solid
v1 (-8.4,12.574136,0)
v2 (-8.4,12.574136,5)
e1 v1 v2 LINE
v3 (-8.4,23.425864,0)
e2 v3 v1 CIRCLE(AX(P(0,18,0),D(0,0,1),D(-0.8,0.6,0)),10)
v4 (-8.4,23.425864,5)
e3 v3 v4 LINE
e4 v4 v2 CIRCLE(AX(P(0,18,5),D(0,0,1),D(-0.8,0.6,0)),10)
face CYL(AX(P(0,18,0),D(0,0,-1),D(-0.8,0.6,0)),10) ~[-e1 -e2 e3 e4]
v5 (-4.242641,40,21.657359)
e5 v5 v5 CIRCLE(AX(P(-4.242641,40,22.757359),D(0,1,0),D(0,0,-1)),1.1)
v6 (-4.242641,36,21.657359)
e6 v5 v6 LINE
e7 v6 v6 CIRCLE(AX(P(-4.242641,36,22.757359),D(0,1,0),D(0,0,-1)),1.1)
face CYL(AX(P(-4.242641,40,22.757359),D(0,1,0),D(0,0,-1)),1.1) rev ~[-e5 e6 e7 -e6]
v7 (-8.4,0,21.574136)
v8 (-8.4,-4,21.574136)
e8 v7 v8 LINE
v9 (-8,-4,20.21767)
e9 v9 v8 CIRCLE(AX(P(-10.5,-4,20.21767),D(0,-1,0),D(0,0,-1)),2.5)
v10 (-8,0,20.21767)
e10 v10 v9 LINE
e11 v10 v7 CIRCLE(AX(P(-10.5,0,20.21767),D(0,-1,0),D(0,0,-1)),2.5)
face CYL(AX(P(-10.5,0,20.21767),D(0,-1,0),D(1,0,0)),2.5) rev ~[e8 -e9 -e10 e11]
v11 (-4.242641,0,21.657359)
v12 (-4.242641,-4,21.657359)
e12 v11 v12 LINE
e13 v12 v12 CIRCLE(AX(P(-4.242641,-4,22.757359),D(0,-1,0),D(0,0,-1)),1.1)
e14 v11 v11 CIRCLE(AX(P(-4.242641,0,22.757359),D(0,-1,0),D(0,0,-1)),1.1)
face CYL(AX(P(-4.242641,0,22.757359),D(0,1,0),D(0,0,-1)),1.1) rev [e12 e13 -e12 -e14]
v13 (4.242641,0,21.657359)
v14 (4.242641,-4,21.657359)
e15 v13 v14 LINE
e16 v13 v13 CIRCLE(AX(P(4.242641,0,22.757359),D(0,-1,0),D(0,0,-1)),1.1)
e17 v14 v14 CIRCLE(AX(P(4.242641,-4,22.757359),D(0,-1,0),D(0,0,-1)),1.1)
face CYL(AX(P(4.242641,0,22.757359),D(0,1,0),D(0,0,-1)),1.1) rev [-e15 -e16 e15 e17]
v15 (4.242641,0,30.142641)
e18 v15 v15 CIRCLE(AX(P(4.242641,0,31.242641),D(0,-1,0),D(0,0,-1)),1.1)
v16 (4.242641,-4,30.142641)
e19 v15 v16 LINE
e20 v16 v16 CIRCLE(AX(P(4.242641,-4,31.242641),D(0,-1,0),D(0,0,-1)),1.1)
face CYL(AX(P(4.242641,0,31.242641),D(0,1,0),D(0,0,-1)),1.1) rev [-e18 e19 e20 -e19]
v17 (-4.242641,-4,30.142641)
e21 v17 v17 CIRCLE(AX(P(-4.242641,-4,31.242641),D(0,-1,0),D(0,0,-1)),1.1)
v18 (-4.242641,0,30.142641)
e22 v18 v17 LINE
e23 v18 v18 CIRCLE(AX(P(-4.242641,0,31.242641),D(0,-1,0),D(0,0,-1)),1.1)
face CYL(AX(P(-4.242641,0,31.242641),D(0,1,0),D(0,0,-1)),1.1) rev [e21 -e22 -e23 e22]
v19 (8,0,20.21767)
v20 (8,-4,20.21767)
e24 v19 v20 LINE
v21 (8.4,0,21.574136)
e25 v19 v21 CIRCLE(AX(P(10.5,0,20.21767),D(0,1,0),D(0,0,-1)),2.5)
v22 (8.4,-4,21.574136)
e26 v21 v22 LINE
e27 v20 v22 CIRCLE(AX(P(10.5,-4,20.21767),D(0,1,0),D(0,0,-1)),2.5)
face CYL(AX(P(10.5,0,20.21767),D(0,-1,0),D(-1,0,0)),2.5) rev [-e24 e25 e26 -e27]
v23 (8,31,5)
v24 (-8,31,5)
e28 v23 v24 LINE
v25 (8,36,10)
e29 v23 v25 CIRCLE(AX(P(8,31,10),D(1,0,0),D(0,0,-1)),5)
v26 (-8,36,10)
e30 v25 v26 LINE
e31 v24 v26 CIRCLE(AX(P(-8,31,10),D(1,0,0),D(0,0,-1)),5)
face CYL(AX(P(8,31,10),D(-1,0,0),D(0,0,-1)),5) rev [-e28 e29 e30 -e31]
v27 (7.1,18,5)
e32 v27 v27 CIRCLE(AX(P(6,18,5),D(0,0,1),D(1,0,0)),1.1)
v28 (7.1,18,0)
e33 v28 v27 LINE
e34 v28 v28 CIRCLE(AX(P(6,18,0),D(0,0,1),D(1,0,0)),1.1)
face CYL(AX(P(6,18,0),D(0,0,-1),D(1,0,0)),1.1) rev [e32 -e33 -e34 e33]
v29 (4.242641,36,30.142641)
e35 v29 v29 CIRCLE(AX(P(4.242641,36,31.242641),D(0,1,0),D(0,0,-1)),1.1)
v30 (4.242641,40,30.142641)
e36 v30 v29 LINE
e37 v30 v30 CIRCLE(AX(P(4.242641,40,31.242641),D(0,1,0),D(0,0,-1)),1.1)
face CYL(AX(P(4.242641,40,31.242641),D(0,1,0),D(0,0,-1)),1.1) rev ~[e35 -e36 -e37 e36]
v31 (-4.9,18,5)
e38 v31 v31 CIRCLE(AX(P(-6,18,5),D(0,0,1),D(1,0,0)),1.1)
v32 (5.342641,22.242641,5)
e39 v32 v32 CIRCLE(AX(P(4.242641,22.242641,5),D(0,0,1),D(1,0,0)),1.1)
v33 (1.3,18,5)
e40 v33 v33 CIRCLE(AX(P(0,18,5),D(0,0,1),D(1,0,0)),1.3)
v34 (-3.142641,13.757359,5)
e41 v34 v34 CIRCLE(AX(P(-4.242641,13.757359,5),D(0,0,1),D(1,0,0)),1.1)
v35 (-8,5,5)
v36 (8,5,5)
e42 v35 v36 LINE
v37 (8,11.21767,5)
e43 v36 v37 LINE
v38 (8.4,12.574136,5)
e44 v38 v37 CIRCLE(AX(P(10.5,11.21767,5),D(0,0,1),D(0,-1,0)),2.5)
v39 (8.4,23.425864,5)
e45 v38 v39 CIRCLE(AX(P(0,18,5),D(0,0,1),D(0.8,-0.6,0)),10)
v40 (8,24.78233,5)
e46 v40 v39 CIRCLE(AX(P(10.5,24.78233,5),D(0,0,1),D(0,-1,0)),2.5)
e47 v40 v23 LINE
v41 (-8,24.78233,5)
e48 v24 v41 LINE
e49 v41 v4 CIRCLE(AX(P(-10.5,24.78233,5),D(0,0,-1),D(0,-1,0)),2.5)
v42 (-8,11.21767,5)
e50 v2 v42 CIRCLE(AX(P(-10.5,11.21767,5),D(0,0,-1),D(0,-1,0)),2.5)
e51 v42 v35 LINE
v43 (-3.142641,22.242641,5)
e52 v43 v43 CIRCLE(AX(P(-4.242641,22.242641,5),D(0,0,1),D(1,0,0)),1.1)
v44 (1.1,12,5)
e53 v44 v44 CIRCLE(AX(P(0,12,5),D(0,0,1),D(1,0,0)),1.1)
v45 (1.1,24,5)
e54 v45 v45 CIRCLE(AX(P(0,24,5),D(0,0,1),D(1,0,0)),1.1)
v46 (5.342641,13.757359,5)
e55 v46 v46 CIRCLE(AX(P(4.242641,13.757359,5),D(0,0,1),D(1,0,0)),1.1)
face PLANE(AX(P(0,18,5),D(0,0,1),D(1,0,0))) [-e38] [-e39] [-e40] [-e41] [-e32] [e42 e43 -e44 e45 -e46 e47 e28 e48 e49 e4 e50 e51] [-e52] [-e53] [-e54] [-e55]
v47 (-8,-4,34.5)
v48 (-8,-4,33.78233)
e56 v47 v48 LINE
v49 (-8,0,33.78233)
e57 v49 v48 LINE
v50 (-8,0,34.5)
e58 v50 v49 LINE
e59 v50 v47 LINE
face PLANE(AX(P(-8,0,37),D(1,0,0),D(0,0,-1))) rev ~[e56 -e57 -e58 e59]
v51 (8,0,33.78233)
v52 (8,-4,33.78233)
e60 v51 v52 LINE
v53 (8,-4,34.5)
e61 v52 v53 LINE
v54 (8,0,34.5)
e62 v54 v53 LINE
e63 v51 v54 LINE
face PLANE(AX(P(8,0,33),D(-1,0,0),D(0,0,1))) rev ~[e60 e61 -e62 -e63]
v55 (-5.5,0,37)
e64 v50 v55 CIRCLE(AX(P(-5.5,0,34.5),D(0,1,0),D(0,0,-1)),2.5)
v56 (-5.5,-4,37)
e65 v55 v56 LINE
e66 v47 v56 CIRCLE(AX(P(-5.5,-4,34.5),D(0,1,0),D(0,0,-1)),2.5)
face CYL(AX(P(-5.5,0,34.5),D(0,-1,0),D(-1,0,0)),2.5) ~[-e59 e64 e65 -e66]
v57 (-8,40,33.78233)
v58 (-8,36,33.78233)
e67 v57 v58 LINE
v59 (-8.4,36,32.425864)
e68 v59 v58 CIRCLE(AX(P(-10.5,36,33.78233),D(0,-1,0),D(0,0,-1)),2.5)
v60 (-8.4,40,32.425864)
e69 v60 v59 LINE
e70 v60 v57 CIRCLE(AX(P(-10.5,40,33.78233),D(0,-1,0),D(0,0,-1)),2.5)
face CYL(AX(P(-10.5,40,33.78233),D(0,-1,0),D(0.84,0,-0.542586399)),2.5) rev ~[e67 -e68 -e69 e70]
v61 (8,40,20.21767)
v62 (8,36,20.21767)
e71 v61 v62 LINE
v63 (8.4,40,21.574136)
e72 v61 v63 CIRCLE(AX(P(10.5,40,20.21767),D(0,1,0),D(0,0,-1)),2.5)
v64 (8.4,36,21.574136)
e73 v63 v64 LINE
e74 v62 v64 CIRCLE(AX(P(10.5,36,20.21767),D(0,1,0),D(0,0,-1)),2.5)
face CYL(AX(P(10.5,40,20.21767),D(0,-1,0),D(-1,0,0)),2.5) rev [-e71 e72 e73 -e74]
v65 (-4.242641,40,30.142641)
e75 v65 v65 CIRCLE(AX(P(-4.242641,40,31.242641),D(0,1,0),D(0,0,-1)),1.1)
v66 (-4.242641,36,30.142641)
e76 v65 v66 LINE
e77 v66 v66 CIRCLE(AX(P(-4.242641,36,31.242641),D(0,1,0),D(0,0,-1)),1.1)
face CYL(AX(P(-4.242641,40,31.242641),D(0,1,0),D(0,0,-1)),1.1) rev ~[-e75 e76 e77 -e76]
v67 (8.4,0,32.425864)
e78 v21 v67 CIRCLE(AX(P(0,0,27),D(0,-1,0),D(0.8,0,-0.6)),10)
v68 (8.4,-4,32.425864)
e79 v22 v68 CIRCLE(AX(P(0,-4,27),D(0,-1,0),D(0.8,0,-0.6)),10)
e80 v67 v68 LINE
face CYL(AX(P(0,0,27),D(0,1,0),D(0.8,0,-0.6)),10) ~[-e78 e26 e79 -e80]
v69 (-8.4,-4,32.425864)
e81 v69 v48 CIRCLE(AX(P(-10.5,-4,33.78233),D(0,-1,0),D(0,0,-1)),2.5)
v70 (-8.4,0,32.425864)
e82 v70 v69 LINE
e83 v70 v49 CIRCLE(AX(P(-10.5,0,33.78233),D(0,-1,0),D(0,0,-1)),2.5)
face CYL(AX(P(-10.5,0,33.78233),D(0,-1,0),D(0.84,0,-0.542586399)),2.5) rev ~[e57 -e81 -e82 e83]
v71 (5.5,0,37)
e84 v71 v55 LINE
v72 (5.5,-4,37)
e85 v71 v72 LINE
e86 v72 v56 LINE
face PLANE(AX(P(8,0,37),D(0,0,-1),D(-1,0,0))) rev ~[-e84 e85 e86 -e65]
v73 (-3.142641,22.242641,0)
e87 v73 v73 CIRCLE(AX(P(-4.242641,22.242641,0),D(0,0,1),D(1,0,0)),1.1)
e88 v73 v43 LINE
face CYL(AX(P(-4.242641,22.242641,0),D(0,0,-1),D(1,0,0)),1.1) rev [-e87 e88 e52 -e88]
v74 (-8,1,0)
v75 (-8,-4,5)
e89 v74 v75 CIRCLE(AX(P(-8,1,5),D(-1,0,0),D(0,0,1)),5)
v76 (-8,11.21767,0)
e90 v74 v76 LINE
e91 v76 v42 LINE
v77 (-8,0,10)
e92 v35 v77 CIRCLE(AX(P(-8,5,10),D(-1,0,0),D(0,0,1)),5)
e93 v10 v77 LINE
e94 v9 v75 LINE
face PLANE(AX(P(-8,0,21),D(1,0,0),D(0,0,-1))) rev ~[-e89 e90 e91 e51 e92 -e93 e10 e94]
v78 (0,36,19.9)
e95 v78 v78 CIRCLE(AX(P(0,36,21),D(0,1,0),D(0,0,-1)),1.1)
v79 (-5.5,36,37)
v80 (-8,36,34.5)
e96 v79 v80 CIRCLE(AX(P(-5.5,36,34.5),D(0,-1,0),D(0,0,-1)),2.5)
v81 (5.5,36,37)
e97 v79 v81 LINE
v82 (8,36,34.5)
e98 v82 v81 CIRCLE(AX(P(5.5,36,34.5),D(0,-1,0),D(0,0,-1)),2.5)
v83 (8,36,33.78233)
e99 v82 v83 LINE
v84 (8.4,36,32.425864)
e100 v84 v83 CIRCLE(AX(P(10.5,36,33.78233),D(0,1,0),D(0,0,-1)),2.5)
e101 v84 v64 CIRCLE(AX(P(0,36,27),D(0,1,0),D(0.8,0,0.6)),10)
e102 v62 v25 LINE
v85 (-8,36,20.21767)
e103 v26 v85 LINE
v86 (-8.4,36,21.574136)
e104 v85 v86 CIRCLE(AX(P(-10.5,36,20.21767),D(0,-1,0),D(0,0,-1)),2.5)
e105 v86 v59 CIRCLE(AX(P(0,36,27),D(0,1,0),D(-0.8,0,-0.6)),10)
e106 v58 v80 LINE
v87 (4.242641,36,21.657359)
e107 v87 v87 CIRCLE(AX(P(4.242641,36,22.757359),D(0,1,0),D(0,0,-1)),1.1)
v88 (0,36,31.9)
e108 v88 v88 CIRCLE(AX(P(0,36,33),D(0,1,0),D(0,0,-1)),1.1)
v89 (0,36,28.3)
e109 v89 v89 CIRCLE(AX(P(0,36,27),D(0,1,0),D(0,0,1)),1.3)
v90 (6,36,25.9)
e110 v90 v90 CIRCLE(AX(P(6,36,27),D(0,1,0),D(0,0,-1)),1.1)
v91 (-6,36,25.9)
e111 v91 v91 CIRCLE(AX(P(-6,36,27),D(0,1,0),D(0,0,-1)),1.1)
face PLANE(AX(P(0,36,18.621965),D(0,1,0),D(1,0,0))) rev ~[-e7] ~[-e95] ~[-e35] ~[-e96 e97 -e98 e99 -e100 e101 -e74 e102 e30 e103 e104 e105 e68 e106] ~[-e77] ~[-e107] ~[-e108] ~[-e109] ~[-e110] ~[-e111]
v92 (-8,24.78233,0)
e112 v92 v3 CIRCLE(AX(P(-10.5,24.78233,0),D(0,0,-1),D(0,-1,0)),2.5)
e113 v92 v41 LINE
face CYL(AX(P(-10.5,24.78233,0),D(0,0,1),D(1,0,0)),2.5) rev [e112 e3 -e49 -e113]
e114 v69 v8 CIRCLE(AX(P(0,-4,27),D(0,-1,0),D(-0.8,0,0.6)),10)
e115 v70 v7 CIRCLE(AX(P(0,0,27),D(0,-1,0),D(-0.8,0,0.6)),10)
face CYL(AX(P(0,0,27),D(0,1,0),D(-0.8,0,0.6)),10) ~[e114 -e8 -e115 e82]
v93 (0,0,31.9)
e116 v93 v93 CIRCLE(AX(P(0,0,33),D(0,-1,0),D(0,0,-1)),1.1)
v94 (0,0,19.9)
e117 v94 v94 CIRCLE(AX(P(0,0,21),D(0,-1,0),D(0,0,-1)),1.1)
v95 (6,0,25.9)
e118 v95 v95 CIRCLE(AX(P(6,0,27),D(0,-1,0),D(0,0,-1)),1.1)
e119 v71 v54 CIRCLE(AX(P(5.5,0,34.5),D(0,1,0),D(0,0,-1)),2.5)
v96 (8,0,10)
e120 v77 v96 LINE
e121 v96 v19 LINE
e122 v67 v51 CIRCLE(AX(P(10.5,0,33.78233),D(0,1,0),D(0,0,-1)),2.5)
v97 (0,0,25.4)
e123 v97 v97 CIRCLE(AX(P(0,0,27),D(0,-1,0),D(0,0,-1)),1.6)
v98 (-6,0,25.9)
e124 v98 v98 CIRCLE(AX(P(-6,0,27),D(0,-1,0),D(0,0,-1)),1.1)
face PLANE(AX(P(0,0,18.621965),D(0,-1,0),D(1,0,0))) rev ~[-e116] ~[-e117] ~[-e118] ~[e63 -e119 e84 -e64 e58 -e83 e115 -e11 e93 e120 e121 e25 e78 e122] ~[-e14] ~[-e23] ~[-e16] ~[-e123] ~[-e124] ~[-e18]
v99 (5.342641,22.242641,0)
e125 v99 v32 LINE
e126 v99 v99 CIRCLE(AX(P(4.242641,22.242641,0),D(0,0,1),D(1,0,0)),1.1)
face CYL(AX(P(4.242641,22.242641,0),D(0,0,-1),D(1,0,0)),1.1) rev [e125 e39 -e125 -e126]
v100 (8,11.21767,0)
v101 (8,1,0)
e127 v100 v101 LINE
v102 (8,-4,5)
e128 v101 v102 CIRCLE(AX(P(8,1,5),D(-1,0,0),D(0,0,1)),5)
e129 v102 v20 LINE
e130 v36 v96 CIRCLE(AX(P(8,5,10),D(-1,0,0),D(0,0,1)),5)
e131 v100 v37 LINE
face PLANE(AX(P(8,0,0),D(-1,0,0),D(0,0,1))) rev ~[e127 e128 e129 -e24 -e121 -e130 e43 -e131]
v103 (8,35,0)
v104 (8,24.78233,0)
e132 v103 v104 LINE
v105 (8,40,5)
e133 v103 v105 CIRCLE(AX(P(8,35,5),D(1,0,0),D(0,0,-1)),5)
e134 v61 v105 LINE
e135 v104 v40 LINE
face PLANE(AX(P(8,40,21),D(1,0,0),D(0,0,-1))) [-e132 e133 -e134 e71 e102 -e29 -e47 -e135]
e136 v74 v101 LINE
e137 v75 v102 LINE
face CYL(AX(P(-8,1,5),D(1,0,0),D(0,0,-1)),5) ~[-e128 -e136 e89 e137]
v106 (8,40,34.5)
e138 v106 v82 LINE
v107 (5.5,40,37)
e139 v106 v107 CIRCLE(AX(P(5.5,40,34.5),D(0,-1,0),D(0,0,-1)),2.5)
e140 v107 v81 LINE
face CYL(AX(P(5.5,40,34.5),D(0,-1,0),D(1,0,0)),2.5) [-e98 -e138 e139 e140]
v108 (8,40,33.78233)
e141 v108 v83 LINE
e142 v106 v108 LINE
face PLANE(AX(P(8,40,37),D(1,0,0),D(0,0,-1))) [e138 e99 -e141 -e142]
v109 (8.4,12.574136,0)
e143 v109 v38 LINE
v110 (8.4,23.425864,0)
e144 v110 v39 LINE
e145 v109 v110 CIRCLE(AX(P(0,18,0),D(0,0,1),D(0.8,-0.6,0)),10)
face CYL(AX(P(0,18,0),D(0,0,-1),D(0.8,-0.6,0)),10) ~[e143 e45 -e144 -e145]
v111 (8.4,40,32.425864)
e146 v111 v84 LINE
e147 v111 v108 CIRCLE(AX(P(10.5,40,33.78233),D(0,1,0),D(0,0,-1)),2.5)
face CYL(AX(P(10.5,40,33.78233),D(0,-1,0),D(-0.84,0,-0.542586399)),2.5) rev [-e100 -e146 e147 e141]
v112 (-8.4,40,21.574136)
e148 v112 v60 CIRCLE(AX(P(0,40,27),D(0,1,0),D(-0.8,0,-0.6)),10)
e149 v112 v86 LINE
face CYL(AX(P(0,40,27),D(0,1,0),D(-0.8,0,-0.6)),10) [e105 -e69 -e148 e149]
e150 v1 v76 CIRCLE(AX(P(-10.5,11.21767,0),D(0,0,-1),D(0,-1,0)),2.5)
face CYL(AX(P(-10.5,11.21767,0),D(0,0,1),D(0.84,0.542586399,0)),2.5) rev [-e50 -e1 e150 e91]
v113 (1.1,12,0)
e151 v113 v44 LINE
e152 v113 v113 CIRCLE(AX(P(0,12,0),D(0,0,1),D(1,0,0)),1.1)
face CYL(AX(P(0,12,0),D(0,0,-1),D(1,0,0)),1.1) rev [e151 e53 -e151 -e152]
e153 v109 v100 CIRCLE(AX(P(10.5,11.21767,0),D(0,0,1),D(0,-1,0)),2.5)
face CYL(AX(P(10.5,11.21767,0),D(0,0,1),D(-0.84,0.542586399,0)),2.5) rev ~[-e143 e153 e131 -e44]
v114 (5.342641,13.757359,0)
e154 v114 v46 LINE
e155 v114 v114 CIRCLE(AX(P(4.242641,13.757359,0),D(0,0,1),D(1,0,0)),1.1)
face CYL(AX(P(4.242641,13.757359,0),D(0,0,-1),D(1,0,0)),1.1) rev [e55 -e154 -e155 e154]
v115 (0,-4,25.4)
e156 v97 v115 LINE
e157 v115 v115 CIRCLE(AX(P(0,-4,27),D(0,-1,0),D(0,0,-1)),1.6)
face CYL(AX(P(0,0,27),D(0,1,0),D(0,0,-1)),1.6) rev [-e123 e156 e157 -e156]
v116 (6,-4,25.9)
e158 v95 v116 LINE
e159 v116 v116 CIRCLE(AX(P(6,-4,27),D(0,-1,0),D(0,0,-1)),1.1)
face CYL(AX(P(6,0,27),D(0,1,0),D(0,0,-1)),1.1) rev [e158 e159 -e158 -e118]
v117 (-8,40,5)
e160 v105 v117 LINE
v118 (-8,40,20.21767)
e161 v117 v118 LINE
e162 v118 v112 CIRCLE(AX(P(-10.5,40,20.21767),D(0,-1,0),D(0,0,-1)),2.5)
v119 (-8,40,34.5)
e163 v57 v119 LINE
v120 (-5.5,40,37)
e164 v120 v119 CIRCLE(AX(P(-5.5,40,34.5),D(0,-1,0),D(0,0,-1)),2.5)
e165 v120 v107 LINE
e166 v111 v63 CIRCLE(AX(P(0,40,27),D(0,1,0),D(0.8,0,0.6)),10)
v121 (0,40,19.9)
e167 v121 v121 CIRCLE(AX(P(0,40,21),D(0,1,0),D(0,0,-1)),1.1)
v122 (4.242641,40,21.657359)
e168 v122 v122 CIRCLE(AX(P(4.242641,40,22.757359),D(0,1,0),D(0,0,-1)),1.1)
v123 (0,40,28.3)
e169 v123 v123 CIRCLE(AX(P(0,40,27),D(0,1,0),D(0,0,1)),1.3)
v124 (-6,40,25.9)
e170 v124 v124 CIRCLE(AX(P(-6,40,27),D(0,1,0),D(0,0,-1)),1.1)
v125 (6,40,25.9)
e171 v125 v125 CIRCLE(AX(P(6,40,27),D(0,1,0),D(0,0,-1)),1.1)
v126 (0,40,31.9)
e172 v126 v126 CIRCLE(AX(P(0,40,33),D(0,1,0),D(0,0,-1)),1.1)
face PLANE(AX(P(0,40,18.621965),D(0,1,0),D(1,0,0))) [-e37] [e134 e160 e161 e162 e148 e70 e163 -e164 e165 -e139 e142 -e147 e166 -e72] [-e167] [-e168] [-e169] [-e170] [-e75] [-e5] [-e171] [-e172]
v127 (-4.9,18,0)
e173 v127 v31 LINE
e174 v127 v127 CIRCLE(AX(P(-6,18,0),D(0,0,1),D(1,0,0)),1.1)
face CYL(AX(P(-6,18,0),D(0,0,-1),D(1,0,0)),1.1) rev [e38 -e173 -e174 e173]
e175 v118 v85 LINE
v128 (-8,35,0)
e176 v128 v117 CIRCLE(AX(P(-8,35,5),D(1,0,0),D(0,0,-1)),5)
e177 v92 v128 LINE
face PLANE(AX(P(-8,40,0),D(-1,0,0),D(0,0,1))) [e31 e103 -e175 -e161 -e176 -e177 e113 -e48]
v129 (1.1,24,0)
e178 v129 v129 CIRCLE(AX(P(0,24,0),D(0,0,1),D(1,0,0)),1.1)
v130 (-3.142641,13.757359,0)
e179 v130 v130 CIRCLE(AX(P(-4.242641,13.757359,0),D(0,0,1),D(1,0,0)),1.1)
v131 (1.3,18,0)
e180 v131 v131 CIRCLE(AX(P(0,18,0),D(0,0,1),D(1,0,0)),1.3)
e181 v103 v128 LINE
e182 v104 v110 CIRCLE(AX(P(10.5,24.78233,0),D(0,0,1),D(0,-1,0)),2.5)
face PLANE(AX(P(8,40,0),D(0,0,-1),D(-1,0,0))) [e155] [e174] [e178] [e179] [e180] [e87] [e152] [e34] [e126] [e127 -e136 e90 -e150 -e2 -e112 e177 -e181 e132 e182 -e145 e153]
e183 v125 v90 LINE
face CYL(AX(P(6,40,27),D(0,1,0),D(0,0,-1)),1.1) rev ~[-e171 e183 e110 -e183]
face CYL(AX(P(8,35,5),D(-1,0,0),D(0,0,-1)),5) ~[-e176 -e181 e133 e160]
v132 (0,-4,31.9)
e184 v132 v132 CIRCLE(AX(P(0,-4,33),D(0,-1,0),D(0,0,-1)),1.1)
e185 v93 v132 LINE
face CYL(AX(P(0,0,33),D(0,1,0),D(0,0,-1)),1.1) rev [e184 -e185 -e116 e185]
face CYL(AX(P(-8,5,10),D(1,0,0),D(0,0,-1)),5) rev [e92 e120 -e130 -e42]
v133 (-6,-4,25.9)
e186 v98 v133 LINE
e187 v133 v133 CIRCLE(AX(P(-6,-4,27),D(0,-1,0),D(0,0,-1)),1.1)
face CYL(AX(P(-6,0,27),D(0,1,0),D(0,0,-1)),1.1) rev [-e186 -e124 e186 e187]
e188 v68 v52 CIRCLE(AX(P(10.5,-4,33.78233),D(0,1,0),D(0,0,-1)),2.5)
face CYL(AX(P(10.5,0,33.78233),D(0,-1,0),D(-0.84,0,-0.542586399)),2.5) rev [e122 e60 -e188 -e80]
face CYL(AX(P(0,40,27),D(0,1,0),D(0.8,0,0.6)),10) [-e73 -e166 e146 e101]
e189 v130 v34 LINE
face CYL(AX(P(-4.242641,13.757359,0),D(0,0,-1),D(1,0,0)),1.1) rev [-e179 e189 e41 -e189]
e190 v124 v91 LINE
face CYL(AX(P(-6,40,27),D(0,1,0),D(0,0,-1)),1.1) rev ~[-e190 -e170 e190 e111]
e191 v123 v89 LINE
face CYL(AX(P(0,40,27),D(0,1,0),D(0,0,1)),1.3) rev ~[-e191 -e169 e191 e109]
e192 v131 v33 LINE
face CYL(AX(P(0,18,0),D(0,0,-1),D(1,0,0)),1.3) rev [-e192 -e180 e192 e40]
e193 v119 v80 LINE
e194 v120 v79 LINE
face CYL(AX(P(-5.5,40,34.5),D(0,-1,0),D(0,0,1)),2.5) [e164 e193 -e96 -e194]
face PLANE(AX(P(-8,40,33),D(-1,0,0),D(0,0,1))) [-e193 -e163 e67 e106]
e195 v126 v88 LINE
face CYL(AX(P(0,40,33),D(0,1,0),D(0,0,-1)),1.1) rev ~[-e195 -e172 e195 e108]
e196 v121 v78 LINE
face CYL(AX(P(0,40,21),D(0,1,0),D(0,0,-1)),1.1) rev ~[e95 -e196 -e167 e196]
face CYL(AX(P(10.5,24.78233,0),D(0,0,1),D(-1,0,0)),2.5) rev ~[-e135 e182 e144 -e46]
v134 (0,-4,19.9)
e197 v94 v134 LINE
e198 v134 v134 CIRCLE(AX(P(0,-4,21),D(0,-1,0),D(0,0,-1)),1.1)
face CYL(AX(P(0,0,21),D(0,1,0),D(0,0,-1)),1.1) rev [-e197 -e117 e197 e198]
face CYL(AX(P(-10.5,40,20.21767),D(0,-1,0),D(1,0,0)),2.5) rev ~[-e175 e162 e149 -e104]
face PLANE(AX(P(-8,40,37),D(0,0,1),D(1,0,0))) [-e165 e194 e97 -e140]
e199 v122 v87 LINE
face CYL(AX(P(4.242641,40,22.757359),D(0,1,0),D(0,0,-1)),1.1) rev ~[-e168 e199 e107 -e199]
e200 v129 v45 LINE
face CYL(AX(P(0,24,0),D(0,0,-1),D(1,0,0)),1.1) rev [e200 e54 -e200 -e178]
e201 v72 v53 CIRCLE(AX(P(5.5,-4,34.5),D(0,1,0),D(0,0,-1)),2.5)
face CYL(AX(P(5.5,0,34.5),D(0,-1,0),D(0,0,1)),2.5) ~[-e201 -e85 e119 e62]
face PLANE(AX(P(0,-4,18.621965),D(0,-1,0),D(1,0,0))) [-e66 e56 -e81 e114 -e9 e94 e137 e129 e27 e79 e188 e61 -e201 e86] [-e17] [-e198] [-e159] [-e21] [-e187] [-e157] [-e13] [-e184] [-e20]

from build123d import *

# Parameters (mm, degrees)
SKETCH_1_R      = 1.3
SKETCH_1_R_2    = 1.1
EXTRUDE_1_DEPTH = 5
SKETCH_2_R      = 1.6
SKETCH_2_R_2    = 1.1
EXTRUDE_2_DEPTH = 4
EXTRUDE_START   = 4
SKETCH_3_R      = 1.1
SKETCH_3_R_2    = 1.3
EXTRUDE_3_DEPTH = 4
FILLET_1_R      = 5
FILLET_2_R      = 2.5


with BuildPart() as part:
    # ｽｹｯﾁ1 → ﾎﾞｽ - 押し出し1 (new body)
    with BuildSketch(Plane.XY):
        with BuildLine():
            Line((-8, 0), (8, 0))
            Line((8, 0), (8, 12))
            ThreePointArc((8, 12), (10, 18), (8, 24))
            Line((8, 24), (8, 36))
            Line((8, 36), (-8, 36))
            Line((-8, 36), (-8, 24))
            ThreePointArc((-8, 24), (-10, 18), (-8, 12))
            Line((-8, 12), (-8, 0))
        make_face()
        with Locations((0, 18)):
            Circle(SKETCH_1_R, mode=Mode.SUBTRACT)
        with Locations((0, 24)):
            Circle(SKETCH_1_R_2, mode=Mode.SUBTRACT)
        with Locations((4.242640687, 22.242640687)):
            Circle(SKETCH_1_R_2, mode=Mode.SUBTRACT)
        with Locations((6, 18)):
            Circle(SKETCH_1_R_2, mode=Mode.SUBTRACT)
        with Locations((4.242640687, 13.757359313)):
            Circle(SKETCH_1_R_2, mode=Mode.SUBTRACT)
        with Locations((0, 12)):
            Circle(SKETCH_1_R_2, mode=Mode.SUBTRACT)
        with Locations((-4.242640687, 13.757359313)):
            Circle(SKETCH_1_R_2, mode=Mode.SUBTRACT)
        with Locations((-6, 18)):
            Circle(SKETCH_1_R_2, mode=Mode.SUBTRACT)
        with Locations((-4.242640687, 22.242640687)):
            Circle(SKETCH_1_R_2, mode=Mode.SUBTRACT)
    extrude(amount=EXTRUDE_1_DEPTH)

    # ｽｹｯﾁ2 → ﾎﾞｽ - 押し出し2 (add)
    with BuildSketch(Plane.XZ):
        with BuildLine():
            Line((-8, 0), (8, 0))
            Line((8, 0), (8, 21))
            ThreePointArc((8, 21), (10, 27), (8, 33))
            Line((8, 33), (8, 37))
            Line((8, 37), (-8, 37))
            Line((-8, 37), (-8, 33))
            ThreePointArc((-8, 33), (-10, 27), (-8, 21))
            Line((-8, 21), (-8, 0))
        make_face()
        with Locations(Location((0, 27, 0), (0, 0, 270))):
            Circle(SKETCH_2_R, mode=Mode.SUBTRACT)
        with Locations(Location((6, 27, 0), (0, 0, 270))):
            Circle(SKETCH_2_R_2, mode=Mode.SUBTRACT)
        with Locations(Location((4.242640687, 22.757359313, 0), (0, 0, 270))):
            Circle(SKETCH_2_R_2, mode=Mode.SUBTRACT)
        with Locations(Location((0, 21, 0), (0, 0, 270))):
            Circle(SKETCH_2_R_2, mode=Mode.SUBTRACT)
        with Locations(Location((-4.242640687, 22.757359313, 0), (0, 0, 270))):
            Circle(SKETCH_2_R_2, mode=Mode.SUBTRACT)
        with Locations(Location((-6, 27, 0), (0, 0, 270))):
            Circle(SKETCH_2_R_2, mode=Mode.SUBTRACT)
        with Locations(Location((-4.242640687, 31.242640687, 0), (0, 0, 270))):
            Circle(SKETCH_2_R_2, mode=Mode.SUBTRACT)
        with Locations(Location((0, 33, 0), (0, 0, 270))):
            Circle(SKETCH_2_R_2, mode=Mode.SUBTRACT)
        with Locations(Location((4.242640687, 31.242640687, 0), (0, 0, 270))):
            Circle(SKETCH_2_R_2, mode=Mode.SUBTRACT)
    extrude(amount=EXTRUDE_2_DEPTH)

    # ｽｹｯﾁ3 → ﾎﾞｽ - 押し出し3 (add)
    with BuildSketch(Plane(origin=(0, 36, 0), x_dir=(1, 0, 0), z_dir=(0, 1, 0)).offset(EXTRUDE_START)):
        with BuildLine():
            Line((8, -5), (8, 0))
            Line((8, 0), (-8, 0))
            Line((-8, 0), (-8, -5))
            Line((-8, -5), (-8, -21))
            ThreePointArc((-8, -21), (-10, -27), (-8, -33))
            Line((-8, -33), (-8, -37))
            Line((-8, -37), (8, -37))
            Line((8, -37), (8, -33))
            ThreePointArc((8, -33), (10, -27), (8, -21))
            Line((8, -21), (8, -5))
        make_face()
        with Locations(Location((4.242640687, -22.757359313, 0), (0, 0, 90))):
            Circle(SKETCH_3_R, mode=Mode.SUBTRACT)
        with Locations(Location((0, -21, 0), (0, 0, 90))):
            Circle(SKETCH_3_R, mode=Mode.SUBTRACT)
        with Locations(Location((-4.242640687, -22.757359313, 0), (0, 0, 90))):
            Circle(SKETCH_3_R, mode=Mode.SUBTRACT)
        with Locations(Location((-6, -27, 0), (0, 0, 90))):
            Circle(SKETCH_3_R, mode=Mode.SUBTRACT)
        with Locations(Location((-4.242640687, -31.242640687, 0), (0, 0, 90))):
            Circle(SKETCH_3_R, mode=Mode.SUBTRACT)
        with Locations(Location((0, -33, 0), (0, 0, 90))):
            Circle(SKETCH_3_R, mode=Mode.SUBTRACT)
        with Locations(Location((4.242640687, -31.242640687, 0), (0, 0, 90))):
            Circle(SKETCH_3_R, mode=Mode.SUBTRACT)
        with Locations(Location((6, -27, 0), (0, 0, 90))):
            Circle(SKETCH_3_R, mode=Mode.SUBTRACT)
        with Locations(Location((0, -27, 0), (0, 0, 270))):
            Circle(SKETCH_3_R_2, mode=Mode.SUBTRACT)
    extrude(amount=-EXTRUDE_3_DEPTH)

    # ﾌｨﾚｯﾄ1
    fillet_1_edges = [part.edges().sort_by_distance(p)[0] for p in [
        (0, 36, 5),
        (0, -4, 0),
        (0, 0, 5),
        (0, 40, 0),
    ]]
    fillet(fillet_1_edges, radius=FILLET_1_R)

    # ﾌｨﾚｯﾄ2
    fillet_2_edges = [part.edges().sort_by_distance(p)[0] for p in [
        (8, 38, 21),
        (-8, 38, 21),
        (-8, 38, 33),
        (-8, 38, 37),
        (8, 38, 37),
        (8, 38, 33),
        (-8, 12, 2.5),
        (-8, 24, 2.5),
        (8, 24, 2.5),
        (8, 12, 2.5),
        (-8, -2, 21),
        (8, -2, 21),
        (8, -2, 33),
        (8, -2, 37),
        (-8, -2, 37),
        (-8, -2, 33),
    ]]
    fillet(fillet_2_edges, radius=FILLET_2_R)


solid = part.part
